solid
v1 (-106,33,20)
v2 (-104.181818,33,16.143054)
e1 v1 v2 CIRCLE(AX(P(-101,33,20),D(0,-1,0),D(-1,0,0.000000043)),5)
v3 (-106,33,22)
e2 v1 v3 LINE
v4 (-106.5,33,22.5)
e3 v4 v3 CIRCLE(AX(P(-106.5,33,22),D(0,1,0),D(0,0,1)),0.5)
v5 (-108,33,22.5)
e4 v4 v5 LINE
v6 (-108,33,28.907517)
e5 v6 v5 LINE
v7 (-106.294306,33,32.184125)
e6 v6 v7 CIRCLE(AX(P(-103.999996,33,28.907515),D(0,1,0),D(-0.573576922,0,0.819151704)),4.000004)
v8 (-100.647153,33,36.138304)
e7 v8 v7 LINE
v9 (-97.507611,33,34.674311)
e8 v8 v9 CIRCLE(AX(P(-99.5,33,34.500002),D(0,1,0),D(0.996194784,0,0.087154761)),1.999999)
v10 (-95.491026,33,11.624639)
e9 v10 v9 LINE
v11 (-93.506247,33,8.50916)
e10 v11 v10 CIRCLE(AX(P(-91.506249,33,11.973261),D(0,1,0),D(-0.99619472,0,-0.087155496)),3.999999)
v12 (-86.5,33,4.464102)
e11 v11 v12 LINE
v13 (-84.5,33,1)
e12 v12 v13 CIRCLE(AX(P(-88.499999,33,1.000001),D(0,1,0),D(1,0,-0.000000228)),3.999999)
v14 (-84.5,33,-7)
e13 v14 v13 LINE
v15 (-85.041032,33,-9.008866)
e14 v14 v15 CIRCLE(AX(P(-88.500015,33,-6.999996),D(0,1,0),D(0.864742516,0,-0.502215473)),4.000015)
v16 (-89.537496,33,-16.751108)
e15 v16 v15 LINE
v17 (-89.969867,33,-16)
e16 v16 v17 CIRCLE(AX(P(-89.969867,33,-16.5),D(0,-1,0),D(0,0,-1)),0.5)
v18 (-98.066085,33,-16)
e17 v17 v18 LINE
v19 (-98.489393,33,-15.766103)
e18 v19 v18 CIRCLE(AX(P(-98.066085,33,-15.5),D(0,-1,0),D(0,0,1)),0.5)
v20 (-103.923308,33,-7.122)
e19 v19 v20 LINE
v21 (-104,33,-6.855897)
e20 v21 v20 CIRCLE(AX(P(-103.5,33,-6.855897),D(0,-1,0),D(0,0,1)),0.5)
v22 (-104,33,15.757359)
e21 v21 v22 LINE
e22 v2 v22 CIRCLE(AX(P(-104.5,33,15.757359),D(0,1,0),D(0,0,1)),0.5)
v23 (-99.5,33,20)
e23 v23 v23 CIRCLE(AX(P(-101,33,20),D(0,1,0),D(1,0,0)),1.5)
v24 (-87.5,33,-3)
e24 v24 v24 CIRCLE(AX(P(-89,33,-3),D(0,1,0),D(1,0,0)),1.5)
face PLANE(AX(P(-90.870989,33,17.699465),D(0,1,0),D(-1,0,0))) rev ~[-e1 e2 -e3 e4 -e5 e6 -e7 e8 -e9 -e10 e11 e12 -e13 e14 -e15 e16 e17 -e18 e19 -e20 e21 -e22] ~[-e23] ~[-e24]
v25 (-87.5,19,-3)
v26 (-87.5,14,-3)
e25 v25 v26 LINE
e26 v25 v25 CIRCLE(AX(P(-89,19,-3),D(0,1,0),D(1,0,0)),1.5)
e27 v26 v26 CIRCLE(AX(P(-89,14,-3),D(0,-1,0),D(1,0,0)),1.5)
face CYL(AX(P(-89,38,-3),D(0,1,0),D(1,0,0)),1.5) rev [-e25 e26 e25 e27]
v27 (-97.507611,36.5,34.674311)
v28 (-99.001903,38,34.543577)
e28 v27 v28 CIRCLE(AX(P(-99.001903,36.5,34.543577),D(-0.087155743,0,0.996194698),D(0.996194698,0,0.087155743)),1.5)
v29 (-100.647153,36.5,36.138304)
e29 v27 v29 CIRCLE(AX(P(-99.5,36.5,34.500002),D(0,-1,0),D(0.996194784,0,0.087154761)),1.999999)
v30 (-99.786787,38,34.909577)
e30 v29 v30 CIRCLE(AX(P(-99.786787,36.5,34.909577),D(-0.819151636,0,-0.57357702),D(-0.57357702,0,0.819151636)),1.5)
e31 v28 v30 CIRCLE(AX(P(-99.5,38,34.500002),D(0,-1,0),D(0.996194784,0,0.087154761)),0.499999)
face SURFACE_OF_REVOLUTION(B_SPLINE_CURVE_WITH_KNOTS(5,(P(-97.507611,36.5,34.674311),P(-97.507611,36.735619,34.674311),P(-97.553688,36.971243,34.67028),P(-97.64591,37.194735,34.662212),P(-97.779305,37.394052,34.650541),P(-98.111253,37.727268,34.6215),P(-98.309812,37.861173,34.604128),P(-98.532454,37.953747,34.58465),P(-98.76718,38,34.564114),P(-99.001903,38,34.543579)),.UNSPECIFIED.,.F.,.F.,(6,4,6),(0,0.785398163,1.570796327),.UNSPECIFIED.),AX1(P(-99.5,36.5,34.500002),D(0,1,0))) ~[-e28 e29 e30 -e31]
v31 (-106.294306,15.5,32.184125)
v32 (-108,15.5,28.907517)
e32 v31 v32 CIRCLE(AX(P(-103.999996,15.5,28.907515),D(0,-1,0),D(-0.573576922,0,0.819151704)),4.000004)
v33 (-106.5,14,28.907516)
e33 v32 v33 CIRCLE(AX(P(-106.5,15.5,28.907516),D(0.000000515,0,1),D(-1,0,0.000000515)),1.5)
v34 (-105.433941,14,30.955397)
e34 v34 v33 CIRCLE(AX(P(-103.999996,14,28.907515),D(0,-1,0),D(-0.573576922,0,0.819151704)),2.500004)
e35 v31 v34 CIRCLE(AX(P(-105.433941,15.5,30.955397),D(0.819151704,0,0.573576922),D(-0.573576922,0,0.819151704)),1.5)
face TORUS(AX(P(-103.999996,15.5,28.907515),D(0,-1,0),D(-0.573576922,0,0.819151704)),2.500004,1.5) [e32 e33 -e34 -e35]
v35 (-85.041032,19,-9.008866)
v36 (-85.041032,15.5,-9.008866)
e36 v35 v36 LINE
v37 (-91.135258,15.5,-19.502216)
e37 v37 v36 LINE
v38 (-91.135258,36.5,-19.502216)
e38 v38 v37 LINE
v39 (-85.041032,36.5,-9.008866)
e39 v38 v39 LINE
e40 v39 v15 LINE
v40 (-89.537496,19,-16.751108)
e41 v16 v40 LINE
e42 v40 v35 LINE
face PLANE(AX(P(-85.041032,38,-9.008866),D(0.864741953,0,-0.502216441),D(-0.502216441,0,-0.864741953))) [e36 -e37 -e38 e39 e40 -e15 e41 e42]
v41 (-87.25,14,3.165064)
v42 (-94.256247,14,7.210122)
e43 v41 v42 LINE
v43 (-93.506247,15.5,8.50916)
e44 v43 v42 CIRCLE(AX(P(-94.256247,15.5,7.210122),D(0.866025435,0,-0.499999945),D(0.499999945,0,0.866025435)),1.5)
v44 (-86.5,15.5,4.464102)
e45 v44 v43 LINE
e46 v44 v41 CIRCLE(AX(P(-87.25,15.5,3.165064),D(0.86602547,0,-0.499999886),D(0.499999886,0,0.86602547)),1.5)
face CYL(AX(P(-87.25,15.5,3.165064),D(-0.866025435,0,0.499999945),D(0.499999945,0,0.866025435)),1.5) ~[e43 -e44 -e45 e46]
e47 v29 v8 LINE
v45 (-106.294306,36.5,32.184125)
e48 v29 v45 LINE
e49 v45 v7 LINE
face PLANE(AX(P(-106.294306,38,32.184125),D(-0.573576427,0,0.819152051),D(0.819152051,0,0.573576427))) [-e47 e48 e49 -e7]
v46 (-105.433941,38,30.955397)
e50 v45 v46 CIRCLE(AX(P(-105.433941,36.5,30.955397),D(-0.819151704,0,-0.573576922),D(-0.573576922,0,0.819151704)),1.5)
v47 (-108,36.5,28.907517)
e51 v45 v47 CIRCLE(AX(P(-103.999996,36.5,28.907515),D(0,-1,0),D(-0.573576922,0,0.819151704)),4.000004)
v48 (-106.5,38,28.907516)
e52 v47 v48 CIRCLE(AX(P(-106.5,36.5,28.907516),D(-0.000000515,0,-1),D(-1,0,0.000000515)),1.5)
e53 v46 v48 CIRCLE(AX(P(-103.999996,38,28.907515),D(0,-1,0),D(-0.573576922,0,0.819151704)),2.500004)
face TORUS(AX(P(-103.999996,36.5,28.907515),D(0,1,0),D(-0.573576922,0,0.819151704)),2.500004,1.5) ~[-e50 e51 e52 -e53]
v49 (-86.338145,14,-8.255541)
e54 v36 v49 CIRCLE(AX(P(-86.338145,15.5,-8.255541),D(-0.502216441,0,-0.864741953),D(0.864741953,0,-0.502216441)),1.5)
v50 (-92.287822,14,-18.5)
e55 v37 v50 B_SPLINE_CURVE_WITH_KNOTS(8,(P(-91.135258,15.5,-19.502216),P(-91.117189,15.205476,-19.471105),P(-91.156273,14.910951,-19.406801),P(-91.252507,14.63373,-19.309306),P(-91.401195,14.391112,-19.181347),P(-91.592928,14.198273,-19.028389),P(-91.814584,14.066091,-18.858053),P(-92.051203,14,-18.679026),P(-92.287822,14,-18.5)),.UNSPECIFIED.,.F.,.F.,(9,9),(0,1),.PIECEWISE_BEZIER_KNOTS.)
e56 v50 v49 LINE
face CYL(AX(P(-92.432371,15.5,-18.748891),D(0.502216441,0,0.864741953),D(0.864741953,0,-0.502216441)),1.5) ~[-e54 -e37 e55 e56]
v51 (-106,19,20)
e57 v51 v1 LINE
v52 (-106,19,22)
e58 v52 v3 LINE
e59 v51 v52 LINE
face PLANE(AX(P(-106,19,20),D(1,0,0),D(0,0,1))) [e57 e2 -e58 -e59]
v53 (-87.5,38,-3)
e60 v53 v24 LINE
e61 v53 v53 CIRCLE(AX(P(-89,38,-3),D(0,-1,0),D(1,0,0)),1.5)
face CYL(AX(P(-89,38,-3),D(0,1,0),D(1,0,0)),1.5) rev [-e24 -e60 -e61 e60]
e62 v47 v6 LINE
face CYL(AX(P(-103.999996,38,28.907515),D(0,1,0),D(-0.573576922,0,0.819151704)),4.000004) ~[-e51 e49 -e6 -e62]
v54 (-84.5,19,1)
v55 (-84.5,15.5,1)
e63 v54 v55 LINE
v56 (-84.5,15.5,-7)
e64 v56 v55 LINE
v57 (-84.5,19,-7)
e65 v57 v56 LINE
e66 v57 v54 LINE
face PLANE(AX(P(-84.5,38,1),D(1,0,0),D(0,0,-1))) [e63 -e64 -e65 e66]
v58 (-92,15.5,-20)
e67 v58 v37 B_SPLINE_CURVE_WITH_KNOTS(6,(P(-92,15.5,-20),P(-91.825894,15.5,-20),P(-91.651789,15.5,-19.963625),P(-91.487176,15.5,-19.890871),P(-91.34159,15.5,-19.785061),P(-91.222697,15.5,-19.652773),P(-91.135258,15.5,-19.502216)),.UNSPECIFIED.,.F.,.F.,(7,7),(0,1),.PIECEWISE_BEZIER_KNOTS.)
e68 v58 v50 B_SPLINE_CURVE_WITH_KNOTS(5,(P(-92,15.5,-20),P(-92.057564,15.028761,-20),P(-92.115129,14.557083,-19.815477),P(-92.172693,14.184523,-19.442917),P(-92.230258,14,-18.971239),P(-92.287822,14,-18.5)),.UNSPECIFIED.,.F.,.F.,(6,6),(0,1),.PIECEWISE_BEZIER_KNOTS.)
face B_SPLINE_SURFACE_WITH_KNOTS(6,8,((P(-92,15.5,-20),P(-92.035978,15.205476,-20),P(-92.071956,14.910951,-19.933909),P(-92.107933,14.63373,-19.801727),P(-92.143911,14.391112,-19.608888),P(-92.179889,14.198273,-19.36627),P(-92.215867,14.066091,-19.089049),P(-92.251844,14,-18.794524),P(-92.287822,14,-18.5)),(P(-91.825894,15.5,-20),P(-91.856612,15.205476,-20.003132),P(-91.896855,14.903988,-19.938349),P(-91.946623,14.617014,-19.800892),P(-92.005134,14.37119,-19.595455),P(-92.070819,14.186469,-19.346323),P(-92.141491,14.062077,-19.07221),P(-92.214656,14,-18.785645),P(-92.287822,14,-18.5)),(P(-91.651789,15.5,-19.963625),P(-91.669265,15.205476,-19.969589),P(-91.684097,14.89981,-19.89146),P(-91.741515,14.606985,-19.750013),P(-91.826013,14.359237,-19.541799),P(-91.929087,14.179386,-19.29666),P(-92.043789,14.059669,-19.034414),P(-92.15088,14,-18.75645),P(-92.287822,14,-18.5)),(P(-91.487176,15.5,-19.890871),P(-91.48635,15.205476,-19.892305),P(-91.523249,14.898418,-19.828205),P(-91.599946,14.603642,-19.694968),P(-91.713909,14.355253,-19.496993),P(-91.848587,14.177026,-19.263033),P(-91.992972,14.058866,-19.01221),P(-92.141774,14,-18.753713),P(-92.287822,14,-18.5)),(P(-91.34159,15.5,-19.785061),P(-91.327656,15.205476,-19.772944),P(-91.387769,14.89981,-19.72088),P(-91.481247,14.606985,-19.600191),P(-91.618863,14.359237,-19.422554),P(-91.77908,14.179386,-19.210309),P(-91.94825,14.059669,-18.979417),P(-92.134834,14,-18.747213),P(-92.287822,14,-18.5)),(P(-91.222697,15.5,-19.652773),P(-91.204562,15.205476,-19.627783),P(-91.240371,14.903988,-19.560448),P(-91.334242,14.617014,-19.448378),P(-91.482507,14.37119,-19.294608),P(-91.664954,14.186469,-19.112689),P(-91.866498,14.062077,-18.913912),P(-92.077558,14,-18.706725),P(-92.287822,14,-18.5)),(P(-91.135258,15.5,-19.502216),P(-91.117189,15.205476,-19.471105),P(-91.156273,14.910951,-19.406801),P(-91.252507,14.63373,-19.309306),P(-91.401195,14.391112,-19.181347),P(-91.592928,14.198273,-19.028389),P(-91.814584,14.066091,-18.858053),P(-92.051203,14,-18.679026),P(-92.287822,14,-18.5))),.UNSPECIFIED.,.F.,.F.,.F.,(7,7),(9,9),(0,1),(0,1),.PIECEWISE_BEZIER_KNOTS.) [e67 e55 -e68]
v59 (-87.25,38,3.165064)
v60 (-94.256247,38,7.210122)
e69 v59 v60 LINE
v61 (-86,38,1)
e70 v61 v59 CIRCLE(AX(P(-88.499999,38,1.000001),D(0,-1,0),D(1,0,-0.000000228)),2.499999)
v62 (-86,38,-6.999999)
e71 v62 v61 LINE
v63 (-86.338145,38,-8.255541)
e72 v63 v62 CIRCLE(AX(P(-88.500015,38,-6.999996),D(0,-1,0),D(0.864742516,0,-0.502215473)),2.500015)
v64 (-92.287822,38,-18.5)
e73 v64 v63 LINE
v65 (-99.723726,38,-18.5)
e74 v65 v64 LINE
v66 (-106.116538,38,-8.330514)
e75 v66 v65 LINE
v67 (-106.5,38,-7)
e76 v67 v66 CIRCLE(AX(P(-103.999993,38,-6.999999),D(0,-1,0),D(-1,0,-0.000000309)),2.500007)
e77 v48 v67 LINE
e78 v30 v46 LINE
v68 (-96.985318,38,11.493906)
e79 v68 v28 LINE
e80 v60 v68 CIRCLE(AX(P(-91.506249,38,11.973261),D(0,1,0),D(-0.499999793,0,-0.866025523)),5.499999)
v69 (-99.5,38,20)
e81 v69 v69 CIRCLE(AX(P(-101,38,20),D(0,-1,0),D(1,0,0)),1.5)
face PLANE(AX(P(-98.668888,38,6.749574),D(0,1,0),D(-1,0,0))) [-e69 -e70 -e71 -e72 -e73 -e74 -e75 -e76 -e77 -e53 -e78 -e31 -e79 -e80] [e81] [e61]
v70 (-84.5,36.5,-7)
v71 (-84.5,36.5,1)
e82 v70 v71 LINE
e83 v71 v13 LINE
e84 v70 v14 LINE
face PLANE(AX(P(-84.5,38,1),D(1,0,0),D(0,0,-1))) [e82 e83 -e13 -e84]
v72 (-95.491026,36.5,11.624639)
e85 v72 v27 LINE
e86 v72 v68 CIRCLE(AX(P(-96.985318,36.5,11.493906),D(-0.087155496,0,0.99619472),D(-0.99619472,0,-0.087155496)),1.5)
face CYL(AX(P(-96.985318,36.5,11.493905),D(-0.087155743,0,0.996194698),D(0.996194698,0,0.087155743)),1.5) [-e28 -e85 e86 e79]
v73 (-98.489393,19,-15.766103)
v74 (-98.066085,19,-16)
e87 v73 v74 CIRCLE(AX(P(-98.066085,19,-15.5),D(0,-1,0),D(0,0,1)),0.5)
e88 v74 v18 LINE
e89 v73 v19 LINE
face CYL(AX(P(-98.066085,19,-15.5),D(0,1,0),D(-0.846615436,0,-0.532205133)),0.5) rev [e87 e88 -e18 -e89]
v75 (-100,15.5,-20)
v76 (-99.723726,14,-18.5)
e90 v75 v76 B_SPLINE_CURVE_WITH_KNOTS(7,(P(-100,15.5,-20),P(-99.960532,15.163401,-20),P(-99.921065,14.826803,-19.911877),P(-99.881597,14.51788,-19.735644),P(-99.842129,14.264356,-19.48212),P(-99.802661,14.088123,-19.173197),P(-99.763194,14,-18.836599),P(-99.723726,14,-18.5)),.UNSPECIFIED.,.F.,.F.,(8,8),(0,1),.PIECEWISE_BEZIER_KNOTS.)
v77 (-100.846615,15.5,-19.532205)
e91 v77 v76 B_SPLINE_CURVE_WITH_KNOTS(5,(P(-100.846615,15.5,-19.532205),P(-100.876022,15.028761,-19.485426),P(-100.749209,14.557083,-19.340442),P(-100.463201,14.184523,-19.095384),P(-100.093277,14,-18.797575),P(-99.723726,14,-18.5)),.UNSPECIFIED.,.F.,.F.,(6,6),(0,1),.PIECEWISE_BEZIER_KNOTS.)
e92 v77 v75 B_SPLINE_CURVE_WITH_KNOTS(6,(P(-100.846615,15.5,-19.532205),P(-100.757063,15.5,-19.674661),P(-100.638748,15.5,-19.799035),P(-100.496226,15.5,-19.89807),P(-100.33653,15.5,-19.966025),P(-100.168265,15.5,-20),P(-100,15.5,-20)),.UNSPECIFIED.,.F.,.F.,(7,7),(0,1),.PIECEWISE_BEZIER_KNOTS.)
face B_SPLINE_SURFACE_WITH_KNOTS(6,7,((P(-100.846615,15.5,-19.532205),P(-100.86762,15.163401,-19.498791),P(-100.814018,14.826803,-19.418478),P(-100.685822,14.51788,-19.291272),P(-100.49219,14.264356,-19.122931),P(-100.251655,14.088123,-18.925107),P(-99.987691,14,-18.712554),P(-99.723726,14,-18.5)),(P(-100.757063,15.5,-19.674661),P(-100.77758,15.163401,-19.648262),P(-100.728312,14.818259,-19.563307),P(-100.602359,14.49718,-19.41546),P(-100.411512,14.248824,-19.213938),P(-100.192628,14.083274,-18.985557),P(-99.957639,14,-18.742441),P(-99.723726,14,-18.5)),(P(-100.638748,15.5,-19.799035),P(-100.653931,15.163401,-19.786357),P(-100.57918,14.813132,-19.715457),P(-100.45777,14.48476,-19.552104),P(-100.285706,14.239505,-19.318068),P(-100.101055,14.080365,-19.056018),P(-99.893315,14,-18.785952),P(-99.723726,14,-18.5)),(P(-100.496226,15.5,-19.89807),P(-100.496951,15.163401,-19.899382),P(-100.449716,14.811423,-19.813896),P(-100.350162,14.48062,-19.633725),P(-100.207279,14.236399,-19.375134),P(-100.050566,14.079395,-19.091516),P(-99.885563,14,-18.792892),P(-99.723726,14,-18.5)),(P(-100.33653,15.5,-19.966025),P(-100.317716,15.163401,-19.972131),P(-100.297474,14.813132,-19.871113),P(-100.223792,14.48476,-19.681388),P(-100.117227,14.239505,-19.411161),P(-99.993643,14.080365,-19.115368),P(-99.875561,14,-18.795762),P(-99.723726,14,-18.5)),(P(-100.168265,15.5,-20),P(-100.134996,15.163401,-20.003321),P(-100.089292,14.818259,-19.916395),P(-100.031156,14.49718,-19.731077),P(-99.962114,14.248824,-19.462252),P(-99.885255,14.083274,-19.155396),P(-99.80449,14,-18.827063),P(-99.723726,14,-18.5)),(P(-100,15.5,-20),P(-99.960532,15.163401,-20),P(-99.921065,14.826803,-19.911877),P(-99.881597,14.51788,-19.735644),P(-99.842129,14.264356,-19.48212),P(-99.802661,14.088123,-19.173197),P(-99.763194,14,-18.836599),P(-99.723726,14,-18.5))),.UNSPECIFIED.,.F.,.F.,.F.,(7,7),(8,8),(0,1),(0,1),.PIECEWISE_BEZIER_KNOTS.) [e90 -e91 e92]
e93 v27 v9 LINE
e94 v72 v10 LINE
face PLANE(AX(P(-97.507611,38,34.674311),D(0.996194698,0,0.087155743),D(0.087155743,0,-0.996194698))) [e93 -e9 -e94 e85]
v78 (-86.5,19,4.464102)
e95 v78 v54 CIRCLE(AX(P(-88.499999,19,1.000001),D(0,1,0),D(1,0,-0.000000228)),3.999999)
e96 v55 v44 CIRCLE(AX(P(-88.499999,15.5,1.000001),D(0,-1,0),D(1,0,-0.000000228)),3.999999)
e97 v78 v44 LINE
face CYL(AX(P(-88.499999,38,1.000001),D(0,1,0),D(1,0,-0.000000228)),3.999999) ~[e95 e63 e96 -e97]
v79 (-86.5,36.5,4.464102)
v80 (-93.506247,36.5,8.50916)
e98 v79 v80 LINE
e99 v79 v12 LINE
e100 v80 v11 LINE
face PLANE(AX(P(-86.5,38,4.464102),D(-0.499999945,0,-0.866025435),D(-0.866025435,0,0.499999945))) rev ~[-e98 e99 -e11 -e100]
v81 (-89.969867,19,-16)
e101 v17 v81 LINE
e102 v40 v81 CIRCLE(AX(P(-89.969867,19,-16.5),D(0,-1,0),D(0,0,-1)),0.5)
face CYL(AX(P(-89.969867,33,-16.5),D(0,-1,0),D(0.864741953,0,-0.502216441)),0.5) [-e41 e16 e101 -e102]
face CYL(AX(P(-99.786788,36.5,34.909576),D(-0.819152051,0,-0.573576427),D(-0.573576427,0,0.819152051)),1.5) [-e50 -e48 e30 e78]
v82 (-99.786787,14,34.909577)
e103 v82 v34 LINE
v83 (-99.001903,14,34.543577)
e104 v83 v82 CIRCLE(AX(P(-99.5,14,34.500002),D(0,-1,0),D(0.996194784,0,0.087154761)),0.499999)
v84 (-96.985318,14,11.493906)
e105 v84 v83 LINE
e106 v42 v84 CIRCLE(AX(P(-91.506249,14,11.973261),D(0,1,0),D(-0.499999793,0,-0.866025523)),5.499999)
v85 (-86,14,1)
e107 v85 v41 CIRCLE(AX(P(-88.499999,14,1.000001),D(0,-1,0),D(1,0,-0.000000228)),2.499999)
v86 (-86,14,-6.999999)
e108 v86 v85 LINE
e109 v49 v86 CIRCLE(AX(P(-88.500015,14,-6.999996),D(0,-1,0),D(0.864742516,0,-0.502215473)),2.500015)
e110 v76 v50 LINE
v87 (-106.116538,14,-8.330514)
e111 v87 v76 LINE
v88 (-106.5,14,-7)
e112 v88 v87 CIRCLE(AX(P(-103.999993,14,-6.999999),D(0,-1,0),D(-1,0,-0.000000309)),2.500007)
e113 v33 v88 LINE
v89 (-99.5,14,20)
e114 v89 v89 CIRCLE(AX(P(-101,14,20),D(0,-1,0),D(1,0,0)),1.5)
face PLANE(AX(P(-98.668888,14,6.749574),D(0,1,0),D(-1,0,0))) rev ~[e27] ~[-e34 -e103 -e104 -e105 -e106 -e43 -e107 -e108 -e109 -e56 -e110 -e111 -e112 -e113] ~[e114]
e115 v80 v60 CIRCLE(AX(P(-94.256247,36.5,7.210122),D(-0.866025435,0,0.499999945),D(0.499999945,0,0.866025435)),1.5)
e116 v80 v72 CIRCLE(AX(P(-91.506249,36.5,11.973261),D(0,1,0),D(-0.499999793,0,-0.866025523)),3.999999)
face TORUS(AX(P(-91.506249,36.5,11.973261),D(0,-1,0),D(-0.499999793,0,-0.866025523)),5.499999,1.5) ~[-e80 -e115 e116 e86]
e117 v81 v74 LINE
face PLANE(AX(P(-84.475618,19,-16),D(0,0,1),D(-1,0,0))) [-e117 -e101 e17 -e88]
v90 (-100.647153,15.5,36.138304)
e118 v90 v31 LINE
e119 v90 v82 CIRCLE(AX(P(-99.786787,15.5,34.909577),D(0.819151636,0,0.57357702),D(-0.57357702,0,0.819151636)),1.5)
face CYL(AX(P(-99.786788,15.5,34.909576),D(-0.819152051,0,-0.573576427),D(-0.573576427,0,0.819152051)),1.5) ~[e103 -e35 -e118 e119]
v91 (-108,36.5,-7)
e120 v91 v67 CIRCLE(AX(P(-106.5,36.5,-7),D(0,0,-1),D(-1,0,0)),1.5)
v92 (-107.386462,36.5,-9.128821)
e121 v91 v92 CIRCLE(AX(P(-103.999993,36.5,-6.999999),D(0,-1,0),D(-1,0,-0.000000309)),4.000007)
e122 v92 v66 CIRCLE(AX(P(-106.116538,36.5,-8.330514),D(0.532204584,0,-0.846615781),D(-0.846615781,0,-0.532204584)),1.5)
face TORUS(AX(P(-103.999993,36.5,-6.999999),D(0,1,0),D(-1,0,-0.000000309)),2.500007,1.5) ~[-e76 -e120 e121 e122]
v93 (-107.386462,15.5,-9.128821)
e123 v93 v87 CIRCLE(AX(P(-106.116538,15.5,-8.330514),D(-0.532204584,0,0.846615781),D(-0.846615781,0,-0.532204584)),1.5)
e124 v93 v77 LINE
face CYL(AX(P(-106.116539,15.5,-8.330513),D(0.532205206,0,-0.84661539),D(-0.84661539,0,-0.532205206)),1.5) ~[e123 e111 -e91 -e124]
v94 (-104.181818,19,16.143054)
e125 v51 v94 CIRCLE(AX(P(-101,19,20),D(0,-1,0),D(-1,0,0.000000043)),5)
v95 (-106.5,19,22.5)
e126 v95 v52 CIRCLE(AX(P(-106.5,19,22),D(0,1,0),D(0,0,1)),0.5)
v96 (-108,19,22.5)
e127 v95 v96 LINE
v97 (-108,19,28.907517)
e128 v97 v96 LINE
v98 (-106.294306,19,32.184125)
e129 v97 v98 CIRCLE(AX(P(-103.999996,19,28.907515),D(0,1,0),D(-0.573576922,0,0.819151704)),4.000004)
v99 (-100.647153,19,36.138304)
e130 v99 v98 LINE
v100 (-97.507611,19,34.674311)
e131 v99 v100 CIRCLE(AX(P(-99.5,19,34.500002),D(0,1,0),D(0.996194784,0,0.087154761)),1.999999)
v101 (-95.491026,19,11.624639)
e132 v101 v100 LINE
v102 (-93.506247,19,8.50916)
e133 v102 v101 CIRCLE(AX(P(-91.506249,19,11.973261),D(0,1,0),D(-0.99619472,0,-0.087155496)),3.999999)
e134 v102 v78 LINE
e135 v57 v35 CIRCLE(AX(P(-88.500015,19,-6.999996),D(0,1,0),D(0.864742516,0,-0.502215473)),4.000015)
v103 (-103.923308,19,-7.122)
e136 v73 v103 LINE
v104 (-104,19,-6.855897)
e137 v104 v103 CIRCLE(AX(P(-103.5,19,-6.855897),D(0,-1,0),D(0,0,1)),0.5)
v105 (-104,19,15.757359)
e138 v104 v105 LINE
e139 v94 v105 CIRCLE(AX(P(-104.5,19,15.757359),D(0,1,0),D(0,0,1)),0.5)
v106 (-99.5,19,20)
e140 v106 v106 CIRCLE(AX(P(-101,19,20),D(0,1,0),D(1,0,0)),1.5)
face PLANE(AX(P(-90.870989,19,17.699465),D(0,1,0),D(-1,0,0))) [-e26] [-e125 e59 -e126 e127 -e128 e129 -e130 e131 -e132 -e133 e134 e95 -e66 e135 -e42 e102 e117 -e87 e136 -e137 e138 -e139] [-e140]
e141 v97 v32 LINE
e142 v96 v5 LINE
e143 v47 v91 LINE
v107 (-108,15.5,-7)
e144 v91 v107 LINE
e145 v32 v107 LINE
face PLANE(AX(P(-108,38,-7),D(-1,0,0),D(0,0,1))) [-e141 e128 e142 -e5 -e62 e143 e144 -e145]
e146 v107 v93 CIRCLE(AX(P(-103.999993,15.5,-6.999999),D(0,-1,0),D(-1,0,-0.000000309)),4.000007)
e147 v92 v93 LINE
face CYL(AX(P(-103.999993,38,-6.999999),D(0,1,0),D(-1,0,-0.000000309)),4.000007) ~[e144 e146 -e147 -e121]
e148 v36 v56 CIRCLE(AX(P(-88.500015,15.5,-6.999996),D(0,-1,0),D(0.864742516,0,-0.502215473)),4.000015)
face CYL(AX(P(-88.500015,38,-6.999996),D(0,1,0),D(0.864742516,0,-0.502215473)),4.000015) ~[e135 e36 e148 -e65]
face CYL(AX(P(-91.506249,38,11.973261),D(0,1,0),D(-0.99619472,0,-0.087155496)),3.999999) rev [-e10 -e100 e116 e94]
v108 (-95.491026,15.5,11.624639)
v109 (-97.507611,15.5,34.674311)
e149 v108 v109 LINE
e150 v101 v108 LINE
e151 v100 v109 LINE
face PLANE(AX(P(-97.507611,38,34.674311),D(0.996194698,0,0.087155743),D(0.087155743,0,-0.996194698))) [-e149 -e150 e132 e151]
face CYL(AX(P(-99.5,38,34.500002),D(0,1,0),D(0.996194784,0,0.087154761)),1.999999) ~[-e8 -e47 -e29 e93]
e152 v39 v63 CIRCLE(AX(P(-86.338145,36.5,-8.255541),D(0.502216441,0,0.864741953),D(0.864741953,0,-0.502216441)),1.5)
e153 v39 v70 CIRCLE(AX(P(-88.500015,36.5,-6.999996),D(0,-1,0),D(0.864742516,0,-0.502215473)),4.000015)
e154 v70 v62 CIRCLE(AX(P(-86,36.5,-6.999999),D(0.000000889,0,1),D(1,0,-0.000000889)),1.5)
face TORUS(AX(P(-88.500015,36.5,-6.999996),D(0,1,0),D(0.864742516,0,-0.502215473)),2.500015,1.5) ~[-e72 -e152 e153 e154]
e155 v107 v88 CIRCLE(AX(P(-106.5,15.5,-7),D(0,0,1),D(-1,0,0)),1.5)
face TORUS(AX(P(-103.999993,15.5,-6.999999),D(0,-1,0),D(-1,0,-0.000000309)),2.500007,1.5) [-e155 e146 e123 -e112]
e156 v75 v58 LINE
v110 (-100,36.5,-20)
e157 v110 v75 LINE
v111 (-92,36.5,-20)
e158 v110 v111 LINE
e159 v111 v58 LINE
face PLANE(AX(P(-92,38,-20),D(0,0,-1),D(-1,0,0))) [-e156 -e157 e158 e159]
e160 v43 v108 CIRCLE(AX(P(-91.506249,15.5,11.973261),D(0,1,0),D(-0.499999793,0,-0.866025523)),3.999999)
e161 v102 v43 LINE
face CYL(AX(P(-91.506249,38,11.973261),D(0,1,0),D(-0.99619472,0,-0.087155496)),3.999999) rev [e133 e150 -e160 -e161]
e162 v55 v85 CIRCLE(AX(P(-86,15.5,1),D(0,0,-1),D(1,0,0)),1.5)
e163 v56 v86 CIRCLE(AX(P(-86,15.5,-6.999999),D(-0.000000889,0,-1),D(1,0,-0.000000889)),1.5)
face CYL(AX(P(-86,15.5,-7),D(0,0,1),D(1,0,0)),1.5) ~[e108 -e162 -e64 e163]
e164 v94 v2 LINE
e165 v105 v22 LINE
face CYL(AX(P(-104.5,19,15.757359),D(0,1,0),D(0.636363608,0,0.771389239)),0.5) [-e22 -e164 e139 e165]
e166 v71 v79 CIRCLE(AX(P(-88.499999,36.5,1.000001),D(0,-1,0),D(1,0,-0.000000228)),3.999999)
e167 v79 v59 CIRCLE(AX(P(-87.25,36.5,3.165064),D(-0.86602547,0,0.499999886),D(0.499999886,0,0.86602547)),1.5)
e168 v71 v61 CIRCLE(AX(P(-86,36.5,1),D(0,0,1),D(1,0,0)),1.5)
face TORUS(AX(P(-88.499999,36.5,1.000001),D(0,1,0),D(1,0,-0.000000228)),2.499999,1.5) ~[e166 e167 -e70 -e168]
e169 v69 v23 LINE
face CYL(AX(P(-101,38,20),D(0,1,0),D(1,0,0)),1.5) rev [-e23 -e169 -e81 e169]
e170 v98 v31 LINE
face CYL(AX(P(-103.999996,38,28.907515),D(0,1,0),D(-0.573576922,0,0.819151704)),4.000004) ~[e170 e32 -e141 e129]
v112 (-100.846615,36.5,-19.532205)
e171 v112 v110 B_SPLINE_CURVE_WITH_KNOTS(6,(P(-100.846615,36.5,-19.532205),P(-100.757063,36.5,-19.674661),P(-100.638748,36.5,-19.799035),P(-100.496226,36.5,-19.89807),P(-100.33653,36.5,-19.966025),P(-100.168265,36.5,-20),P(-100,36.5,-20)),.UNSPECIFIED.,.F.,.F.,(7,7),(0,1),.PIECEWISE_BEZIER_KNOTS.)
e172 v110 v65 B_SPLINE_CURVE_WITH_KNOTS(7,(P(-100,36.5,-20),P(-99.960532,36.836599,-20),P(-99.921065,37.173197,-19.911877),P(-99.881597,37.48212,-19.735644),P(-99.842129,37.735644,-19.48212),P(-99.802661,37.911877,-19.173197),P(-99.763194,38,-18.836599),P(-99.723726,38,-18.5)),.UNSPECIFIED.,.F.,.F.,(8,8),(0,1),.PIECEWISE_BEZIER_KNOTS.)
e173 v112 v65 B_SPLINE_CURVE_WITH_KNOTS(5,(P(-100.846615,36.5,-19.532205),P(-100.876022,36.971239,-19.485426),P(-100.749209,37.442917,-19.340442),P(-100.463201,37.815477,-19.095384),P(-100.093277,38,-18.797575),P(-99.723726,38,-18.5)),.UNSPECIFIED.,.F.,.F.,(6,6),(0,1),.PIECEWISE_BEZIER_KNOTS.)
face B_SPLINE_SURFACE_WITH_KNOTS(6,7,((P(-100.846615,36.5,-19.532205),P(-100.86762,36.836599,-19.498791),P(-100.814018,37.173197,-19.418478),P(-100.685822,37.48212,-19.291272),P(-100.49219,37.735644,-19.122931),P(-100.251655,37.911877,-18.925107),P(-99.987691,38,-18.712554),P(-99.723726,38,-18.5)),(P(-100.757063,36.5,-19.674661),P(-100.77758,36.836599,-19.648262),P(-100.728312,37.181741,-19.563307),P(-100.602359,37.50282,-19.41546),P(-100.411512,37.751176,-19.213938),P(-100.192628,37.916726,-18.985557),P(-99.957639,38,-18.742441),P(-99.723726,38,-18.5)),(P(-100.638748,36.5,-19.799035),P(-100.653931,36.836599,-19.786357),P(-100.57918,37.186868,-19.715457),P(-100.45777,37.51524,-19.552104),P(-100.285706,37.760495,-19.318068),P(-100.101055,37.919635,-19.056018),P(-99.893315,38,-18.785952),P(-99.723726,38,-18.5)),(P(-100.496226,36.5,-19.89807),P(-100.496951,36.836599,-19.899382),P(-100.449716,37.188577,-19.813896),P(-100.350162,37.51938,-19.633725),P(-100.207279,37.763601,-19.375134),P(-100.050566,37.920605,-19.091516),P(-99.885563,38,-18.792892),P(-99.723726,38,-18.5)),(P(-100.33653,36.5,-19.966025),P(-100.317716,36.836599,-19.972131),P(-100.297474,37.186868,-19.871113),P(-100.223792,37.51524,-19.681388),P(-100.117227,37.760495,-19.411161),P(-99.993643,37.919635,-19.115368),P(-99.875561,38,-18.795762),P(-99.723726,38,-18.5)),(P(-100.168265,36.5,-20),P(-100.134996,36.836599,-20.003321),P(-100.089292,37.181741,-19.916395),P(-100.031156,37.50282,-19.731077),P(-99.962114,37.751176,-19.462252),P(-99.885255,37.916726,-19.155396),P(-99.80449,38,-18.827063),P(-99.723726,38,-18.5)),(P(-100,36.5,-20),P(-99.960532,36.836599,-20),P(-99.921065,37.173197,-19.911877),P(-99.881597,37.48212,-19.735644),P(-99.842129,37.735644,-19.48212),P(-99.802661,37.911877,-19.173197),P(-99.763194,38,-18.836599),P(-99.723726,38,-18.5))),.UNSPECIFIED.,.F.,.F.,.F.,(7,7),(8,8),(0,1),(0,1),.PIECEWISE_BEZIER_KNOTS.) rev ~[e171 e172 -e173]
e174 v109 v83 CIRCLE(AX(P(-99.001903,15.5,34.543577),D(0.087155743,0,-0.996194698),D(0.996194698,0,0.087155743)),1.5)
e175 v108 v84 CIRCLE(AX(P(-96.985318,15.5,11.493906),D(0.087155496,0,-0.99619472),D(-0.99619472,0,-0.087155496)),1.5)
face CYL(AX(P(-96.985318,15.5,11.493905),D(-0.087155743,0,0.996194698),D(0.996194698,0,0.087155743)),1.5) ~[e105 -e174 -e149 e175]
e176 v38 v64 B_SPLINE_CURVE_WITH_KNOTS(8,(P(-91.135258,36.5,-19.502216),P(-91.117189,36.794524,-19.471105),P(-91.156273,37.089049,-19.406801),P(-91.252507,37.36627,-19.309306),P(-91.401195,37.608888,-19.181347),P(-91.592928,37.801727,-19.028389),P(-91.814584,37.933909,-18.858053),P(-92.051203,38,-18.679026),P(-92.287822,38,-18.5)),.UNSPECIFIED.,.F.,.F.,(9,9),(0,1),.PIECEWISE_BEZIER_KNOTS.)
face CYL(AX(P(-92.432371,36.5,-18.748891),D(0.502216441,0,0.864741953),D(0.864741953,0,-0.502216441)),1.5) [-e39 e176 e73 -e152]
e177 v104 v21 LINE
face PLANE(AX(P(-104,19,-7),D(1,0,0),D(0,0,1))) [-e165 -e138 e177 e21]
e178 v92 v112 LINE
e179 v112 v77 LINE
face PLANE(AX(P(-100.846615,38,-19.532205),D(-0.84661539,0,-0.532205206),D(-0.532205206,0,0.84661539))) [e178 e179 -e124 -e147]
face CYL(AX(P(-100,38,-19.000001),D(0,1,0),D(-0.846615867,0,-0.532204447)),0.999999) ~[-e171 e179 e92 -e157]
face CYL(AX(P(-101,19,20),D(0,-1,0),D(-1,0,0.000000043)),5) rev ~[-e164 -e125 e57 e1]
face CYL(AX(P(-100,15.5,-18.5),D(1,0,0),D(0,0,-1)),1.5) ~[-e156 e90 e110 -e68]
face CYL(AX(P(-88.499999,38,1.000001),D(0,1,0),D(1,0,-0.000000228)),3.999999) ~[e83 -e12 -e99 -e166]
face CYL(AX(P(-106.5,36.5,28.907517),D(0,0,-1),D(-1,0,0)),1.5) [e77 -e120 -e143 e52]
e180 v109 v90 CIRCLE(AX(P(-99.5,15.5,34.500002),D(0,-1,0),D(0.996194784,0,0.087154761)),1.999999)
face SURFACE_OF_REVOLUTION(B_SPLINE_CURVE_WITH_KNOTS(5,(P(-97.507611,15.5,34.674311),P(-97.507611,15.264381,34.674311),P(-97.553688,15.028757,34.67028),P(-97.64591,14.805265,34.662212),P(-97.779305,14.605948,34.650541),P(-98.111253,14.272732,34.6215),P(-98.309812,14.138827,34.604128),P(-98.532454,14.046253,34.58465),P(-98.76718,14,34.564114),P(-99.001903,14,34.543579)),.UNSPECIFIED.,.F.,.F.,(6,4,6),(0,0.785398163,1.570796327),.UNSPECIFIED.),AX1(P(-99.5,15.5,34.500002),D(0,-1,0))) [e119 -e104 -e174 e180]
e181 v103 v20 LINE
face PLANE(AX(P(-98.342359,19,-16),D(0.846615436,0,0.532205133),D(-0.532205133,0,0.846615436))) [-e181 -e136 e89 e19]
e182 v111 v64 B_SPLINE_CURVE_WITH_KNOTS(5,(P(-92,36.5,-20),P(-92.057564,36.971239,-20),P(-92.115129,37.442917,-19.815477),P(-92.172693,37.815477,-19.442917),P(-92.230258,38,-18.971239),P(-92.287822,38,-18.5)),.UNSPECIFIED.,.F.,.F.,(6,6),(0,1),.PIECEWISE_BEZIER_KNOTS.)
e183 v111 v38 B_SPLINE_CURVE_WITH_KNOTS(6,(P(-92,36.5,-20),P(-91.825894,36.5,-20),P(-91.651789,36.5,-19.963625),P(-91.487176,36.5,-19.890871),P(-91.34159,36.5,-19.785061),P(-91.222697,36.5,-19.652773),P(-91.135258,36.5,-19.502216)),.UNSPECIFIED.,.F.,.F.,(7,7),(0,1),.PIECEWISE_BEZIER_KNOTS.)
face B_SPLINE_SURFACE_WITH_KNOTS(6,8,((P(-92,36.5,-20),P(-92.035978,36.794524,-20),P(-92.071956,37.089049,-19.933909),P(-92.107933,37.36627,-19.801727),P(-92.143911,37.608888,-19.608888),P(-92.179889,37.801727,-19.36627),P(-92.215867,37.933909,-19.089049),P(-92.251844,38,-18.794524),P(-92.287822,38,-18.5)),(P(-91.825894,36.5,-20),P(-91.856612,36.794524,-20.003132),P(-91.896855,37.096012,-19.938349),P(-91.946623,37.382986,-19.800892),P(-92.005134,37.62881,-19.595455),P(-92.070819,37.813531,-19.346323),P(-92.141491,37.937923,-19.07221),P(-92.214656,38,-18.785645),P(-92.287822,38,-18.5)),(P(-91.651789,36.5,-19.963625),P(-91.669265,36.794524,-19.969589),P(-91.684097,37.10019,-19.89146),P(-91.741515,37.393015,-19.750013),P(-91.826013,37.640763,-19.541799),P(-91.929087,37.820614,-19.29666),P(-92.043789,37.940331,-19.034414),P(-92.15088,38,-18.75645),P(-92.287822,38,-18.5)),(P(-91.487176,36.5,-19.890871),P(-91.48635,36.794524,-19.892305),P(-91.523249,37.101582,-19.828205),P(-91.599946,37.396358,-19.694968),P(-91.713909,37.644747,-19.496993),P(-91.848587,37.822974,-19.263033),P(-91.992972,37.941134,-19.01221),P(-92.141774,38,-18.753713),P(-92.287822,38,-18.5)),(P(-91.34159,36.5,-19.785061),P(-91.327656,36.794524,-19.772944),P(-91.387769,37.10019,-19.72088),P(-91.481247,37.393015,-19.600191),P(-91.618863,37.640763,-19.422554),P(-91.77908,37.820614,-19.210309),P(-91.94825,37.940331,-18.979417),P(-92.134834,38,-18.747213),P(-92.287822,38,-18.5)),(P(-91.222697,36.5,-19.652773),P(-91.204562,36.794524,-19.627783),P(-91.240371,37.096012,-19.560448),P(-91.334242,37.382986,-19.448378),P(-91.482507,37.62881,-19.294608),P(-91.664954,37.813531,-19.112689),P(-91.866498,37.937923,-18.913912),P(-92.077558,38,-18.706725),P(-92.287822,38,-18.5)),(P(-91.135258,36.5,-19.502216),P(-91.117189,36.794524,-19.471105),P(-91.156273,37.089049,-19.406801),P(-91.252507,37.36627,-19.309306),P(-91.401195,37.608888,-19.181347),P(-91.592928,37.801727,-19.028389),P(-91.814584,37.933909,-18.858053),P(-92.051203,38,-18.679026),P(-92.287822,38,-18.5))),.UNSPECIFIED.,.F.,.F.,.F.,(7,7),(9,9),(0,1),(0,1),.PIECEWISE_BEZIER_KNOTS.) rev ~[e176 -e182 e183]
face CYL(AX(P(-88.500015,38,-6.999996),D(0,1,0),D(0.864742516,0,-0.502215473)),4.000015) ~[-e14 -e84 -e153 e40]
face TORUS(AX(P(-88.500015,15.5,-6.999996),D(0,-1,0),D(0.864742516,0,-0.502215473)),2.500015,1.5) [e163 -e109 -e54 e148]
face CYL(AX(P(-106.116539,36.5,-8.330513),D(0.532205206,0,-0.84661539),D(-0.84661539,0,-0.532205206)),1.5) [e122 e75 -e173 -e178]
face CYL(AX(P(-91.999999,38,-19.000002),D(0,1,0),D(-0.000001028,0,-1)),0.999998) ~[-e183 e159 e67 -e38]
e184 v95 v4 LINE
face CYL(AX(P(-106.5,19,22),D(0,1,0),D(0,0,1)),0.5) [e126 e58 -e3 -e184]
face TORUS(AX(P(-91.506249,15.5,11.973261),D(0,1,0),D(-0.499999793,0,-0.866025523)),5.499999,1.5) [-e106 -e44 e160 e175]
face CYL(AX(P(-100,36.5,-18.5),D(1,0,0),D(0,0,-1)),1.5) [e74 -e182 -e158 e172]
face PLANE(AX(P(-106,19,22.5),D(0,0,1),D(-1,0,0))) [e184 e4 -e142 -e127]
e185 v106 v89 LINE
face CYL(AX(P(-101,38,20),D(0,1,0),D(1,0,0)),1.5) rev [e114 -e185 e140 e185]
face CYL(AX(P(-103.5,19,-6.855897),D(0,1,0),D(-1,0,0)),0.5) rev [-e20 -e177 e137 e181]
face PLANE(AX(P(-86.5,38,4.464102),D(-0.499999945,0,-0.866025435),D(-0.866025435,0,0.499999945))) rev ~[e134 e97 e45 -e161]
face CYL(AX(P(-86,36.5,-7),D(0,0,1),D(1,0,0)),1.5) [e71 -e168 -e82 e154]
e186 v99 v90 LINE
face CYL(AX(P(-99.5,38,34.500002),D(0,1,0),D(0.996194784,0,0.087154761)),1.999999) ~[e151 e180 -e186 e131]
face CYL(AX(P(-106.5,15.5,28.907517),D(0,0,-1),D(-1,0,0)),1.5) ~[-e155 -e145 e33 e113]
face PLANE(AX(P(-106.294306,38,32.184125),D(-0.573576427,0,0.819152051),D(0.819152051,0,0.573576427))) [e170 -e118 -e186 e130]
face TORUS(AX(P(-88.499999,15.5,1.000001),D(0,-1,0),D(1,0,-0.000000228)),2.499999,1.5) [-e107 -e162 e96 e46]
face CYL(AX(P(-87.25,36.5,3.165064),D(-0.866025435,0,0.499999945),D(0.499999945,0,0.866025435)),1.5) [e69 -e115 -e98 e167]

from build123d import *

# Parameters (mm, degrees)
SKETCH036_R     = 1.5
PAD021_DEPTH    = 24
FILLET007_R     = 1.5
POCKET013_DEPTH = 14
FILLET008_R     = 0.5


with BuildPart() as part:
    # Sketch036 → Pad021 (new body)
    with BuildSketch(Plane.XZ):
        with BuildLine():
            Line((-59.294306, 24.684125), (-53.647153, 28.638304))
            ThreePointArc((-50.507611, 27.174311), (-51.654763, 28.812616), (-53.647153, 28.638304))
            Line((-50.507611, 27.174311), (-48.491026, 4.124639))
            ThreePointArc((-48.491026, 4.124639), (-47.879813, 2.324063), (-46.506247, 1.00916))
            Line((-39.5, -3.035898), (-46.506247, 1.00916))
            ThreePointArc((-37.5, -6.5), (-38.035898, -4.5), (-39.5, -3.035898))
            Line((-37.5, -6.5), (-37.5, -14.5))
            ThreePointArc((-38.041032, -16.508866), (-37.637626, -15.540223), (-37.5, -14.5))
            Line((-38.041032, -16.508866), (-44.135258, -27.002216))
            ThreePointArc((-45, -27.5), (-44.501109, -27.366665), (-44.135258, -27.002216))
            Line((-45, -27.5), (-53, -27.5))
            ThreePointArc((-53.846615, -27.032205), (-53.483629, -27.375273), (-53, -27.5))
            Line((-53.846615, -27.032205), (-60.386462, -16.628821))
            ThreePointArc((-61, -14.5), (-60.843556, -15.607735), (-60.386462, -16.628821))
            Line((-61, -14.5), (-61, 21.407517))
            ThreePointArc((-59.294306, 24.684125), (-60.548043, 23.254511), (-61, 21.407517))
        make_face()
        with Locations((-54, 12.5)):
            Circle(SKETCH036_R, mode=Mode.SUBTRACT)
        with Locations((-42, -10.5)):
            Circle(SKETCH036_R, mode=Mode.SUBTRACT)
    extrude(amount=PAD021_DEPTH)

    # Fillet007
    fillet007_edges = [part.edges().sort_by_distance(p)[0] for p in [
        (-60.548043, 0, 23.254511),
        (-60.548043, -24, 23.254511),
    ]]
    fillet(fillet007_edges, radius=FILLET007_R)

    # Sketch037 (on Face12 of Fillet007) → Pocket013 (cut)
    with BuildSketch(Plane.XZ.offset(19)):
        with BuildLine():
            Line((-37.475618, -23.5), (-51.342359, -23.5))
            Line((-51.342359, -23.5), (-57, -14.5))
            Line((-57, -14.5), (-57, 8.5))
            ThreePointArc((-59, 12.5), (-58.472136, 10.263932), (-57, 8.5))
            Line((-59, 12.5), (-59, 15))
            Line((-59, 15), (-79, 15))
            Line((-79, 15), (-79, 35))
            Line((-79, 35), (-15.733307, 35))
            Line((-15.733307, 35), (-15.733307, -20.5))
            Line((-15.733307, -20.5), (-35.733307, -20.5))
            Line((-35.733307, -20.5), (-37.475618, -23.5))
        make_face()
    extrude(amount=-POCKET013_DEPTH, mode=Mode.SUBTRACT)

    # Fillet008
    fillet008_edges = [part.edges().sort_by_distance(p)[0] for p in [
        (-57, -12, 8.5),
        (-59, -12, 15),
        (-57, -12, -14.5),
        (-51.342359, -12, -23.5),
        (-42.101275, -12, -23.5),
    ]]
    fillet(fillet008_edges, radius=FILLET008_R)


with BuildPart() as part_1:
    # Body003 placement: moved
    add(part.part.moved(Location((0, 33, 0))))


with BuildPart() as part_2:
    # Clone172 placement: moved
    add(part_1.part.moved(Location((-47, 5, 7.5))))


solid = part_2.part
